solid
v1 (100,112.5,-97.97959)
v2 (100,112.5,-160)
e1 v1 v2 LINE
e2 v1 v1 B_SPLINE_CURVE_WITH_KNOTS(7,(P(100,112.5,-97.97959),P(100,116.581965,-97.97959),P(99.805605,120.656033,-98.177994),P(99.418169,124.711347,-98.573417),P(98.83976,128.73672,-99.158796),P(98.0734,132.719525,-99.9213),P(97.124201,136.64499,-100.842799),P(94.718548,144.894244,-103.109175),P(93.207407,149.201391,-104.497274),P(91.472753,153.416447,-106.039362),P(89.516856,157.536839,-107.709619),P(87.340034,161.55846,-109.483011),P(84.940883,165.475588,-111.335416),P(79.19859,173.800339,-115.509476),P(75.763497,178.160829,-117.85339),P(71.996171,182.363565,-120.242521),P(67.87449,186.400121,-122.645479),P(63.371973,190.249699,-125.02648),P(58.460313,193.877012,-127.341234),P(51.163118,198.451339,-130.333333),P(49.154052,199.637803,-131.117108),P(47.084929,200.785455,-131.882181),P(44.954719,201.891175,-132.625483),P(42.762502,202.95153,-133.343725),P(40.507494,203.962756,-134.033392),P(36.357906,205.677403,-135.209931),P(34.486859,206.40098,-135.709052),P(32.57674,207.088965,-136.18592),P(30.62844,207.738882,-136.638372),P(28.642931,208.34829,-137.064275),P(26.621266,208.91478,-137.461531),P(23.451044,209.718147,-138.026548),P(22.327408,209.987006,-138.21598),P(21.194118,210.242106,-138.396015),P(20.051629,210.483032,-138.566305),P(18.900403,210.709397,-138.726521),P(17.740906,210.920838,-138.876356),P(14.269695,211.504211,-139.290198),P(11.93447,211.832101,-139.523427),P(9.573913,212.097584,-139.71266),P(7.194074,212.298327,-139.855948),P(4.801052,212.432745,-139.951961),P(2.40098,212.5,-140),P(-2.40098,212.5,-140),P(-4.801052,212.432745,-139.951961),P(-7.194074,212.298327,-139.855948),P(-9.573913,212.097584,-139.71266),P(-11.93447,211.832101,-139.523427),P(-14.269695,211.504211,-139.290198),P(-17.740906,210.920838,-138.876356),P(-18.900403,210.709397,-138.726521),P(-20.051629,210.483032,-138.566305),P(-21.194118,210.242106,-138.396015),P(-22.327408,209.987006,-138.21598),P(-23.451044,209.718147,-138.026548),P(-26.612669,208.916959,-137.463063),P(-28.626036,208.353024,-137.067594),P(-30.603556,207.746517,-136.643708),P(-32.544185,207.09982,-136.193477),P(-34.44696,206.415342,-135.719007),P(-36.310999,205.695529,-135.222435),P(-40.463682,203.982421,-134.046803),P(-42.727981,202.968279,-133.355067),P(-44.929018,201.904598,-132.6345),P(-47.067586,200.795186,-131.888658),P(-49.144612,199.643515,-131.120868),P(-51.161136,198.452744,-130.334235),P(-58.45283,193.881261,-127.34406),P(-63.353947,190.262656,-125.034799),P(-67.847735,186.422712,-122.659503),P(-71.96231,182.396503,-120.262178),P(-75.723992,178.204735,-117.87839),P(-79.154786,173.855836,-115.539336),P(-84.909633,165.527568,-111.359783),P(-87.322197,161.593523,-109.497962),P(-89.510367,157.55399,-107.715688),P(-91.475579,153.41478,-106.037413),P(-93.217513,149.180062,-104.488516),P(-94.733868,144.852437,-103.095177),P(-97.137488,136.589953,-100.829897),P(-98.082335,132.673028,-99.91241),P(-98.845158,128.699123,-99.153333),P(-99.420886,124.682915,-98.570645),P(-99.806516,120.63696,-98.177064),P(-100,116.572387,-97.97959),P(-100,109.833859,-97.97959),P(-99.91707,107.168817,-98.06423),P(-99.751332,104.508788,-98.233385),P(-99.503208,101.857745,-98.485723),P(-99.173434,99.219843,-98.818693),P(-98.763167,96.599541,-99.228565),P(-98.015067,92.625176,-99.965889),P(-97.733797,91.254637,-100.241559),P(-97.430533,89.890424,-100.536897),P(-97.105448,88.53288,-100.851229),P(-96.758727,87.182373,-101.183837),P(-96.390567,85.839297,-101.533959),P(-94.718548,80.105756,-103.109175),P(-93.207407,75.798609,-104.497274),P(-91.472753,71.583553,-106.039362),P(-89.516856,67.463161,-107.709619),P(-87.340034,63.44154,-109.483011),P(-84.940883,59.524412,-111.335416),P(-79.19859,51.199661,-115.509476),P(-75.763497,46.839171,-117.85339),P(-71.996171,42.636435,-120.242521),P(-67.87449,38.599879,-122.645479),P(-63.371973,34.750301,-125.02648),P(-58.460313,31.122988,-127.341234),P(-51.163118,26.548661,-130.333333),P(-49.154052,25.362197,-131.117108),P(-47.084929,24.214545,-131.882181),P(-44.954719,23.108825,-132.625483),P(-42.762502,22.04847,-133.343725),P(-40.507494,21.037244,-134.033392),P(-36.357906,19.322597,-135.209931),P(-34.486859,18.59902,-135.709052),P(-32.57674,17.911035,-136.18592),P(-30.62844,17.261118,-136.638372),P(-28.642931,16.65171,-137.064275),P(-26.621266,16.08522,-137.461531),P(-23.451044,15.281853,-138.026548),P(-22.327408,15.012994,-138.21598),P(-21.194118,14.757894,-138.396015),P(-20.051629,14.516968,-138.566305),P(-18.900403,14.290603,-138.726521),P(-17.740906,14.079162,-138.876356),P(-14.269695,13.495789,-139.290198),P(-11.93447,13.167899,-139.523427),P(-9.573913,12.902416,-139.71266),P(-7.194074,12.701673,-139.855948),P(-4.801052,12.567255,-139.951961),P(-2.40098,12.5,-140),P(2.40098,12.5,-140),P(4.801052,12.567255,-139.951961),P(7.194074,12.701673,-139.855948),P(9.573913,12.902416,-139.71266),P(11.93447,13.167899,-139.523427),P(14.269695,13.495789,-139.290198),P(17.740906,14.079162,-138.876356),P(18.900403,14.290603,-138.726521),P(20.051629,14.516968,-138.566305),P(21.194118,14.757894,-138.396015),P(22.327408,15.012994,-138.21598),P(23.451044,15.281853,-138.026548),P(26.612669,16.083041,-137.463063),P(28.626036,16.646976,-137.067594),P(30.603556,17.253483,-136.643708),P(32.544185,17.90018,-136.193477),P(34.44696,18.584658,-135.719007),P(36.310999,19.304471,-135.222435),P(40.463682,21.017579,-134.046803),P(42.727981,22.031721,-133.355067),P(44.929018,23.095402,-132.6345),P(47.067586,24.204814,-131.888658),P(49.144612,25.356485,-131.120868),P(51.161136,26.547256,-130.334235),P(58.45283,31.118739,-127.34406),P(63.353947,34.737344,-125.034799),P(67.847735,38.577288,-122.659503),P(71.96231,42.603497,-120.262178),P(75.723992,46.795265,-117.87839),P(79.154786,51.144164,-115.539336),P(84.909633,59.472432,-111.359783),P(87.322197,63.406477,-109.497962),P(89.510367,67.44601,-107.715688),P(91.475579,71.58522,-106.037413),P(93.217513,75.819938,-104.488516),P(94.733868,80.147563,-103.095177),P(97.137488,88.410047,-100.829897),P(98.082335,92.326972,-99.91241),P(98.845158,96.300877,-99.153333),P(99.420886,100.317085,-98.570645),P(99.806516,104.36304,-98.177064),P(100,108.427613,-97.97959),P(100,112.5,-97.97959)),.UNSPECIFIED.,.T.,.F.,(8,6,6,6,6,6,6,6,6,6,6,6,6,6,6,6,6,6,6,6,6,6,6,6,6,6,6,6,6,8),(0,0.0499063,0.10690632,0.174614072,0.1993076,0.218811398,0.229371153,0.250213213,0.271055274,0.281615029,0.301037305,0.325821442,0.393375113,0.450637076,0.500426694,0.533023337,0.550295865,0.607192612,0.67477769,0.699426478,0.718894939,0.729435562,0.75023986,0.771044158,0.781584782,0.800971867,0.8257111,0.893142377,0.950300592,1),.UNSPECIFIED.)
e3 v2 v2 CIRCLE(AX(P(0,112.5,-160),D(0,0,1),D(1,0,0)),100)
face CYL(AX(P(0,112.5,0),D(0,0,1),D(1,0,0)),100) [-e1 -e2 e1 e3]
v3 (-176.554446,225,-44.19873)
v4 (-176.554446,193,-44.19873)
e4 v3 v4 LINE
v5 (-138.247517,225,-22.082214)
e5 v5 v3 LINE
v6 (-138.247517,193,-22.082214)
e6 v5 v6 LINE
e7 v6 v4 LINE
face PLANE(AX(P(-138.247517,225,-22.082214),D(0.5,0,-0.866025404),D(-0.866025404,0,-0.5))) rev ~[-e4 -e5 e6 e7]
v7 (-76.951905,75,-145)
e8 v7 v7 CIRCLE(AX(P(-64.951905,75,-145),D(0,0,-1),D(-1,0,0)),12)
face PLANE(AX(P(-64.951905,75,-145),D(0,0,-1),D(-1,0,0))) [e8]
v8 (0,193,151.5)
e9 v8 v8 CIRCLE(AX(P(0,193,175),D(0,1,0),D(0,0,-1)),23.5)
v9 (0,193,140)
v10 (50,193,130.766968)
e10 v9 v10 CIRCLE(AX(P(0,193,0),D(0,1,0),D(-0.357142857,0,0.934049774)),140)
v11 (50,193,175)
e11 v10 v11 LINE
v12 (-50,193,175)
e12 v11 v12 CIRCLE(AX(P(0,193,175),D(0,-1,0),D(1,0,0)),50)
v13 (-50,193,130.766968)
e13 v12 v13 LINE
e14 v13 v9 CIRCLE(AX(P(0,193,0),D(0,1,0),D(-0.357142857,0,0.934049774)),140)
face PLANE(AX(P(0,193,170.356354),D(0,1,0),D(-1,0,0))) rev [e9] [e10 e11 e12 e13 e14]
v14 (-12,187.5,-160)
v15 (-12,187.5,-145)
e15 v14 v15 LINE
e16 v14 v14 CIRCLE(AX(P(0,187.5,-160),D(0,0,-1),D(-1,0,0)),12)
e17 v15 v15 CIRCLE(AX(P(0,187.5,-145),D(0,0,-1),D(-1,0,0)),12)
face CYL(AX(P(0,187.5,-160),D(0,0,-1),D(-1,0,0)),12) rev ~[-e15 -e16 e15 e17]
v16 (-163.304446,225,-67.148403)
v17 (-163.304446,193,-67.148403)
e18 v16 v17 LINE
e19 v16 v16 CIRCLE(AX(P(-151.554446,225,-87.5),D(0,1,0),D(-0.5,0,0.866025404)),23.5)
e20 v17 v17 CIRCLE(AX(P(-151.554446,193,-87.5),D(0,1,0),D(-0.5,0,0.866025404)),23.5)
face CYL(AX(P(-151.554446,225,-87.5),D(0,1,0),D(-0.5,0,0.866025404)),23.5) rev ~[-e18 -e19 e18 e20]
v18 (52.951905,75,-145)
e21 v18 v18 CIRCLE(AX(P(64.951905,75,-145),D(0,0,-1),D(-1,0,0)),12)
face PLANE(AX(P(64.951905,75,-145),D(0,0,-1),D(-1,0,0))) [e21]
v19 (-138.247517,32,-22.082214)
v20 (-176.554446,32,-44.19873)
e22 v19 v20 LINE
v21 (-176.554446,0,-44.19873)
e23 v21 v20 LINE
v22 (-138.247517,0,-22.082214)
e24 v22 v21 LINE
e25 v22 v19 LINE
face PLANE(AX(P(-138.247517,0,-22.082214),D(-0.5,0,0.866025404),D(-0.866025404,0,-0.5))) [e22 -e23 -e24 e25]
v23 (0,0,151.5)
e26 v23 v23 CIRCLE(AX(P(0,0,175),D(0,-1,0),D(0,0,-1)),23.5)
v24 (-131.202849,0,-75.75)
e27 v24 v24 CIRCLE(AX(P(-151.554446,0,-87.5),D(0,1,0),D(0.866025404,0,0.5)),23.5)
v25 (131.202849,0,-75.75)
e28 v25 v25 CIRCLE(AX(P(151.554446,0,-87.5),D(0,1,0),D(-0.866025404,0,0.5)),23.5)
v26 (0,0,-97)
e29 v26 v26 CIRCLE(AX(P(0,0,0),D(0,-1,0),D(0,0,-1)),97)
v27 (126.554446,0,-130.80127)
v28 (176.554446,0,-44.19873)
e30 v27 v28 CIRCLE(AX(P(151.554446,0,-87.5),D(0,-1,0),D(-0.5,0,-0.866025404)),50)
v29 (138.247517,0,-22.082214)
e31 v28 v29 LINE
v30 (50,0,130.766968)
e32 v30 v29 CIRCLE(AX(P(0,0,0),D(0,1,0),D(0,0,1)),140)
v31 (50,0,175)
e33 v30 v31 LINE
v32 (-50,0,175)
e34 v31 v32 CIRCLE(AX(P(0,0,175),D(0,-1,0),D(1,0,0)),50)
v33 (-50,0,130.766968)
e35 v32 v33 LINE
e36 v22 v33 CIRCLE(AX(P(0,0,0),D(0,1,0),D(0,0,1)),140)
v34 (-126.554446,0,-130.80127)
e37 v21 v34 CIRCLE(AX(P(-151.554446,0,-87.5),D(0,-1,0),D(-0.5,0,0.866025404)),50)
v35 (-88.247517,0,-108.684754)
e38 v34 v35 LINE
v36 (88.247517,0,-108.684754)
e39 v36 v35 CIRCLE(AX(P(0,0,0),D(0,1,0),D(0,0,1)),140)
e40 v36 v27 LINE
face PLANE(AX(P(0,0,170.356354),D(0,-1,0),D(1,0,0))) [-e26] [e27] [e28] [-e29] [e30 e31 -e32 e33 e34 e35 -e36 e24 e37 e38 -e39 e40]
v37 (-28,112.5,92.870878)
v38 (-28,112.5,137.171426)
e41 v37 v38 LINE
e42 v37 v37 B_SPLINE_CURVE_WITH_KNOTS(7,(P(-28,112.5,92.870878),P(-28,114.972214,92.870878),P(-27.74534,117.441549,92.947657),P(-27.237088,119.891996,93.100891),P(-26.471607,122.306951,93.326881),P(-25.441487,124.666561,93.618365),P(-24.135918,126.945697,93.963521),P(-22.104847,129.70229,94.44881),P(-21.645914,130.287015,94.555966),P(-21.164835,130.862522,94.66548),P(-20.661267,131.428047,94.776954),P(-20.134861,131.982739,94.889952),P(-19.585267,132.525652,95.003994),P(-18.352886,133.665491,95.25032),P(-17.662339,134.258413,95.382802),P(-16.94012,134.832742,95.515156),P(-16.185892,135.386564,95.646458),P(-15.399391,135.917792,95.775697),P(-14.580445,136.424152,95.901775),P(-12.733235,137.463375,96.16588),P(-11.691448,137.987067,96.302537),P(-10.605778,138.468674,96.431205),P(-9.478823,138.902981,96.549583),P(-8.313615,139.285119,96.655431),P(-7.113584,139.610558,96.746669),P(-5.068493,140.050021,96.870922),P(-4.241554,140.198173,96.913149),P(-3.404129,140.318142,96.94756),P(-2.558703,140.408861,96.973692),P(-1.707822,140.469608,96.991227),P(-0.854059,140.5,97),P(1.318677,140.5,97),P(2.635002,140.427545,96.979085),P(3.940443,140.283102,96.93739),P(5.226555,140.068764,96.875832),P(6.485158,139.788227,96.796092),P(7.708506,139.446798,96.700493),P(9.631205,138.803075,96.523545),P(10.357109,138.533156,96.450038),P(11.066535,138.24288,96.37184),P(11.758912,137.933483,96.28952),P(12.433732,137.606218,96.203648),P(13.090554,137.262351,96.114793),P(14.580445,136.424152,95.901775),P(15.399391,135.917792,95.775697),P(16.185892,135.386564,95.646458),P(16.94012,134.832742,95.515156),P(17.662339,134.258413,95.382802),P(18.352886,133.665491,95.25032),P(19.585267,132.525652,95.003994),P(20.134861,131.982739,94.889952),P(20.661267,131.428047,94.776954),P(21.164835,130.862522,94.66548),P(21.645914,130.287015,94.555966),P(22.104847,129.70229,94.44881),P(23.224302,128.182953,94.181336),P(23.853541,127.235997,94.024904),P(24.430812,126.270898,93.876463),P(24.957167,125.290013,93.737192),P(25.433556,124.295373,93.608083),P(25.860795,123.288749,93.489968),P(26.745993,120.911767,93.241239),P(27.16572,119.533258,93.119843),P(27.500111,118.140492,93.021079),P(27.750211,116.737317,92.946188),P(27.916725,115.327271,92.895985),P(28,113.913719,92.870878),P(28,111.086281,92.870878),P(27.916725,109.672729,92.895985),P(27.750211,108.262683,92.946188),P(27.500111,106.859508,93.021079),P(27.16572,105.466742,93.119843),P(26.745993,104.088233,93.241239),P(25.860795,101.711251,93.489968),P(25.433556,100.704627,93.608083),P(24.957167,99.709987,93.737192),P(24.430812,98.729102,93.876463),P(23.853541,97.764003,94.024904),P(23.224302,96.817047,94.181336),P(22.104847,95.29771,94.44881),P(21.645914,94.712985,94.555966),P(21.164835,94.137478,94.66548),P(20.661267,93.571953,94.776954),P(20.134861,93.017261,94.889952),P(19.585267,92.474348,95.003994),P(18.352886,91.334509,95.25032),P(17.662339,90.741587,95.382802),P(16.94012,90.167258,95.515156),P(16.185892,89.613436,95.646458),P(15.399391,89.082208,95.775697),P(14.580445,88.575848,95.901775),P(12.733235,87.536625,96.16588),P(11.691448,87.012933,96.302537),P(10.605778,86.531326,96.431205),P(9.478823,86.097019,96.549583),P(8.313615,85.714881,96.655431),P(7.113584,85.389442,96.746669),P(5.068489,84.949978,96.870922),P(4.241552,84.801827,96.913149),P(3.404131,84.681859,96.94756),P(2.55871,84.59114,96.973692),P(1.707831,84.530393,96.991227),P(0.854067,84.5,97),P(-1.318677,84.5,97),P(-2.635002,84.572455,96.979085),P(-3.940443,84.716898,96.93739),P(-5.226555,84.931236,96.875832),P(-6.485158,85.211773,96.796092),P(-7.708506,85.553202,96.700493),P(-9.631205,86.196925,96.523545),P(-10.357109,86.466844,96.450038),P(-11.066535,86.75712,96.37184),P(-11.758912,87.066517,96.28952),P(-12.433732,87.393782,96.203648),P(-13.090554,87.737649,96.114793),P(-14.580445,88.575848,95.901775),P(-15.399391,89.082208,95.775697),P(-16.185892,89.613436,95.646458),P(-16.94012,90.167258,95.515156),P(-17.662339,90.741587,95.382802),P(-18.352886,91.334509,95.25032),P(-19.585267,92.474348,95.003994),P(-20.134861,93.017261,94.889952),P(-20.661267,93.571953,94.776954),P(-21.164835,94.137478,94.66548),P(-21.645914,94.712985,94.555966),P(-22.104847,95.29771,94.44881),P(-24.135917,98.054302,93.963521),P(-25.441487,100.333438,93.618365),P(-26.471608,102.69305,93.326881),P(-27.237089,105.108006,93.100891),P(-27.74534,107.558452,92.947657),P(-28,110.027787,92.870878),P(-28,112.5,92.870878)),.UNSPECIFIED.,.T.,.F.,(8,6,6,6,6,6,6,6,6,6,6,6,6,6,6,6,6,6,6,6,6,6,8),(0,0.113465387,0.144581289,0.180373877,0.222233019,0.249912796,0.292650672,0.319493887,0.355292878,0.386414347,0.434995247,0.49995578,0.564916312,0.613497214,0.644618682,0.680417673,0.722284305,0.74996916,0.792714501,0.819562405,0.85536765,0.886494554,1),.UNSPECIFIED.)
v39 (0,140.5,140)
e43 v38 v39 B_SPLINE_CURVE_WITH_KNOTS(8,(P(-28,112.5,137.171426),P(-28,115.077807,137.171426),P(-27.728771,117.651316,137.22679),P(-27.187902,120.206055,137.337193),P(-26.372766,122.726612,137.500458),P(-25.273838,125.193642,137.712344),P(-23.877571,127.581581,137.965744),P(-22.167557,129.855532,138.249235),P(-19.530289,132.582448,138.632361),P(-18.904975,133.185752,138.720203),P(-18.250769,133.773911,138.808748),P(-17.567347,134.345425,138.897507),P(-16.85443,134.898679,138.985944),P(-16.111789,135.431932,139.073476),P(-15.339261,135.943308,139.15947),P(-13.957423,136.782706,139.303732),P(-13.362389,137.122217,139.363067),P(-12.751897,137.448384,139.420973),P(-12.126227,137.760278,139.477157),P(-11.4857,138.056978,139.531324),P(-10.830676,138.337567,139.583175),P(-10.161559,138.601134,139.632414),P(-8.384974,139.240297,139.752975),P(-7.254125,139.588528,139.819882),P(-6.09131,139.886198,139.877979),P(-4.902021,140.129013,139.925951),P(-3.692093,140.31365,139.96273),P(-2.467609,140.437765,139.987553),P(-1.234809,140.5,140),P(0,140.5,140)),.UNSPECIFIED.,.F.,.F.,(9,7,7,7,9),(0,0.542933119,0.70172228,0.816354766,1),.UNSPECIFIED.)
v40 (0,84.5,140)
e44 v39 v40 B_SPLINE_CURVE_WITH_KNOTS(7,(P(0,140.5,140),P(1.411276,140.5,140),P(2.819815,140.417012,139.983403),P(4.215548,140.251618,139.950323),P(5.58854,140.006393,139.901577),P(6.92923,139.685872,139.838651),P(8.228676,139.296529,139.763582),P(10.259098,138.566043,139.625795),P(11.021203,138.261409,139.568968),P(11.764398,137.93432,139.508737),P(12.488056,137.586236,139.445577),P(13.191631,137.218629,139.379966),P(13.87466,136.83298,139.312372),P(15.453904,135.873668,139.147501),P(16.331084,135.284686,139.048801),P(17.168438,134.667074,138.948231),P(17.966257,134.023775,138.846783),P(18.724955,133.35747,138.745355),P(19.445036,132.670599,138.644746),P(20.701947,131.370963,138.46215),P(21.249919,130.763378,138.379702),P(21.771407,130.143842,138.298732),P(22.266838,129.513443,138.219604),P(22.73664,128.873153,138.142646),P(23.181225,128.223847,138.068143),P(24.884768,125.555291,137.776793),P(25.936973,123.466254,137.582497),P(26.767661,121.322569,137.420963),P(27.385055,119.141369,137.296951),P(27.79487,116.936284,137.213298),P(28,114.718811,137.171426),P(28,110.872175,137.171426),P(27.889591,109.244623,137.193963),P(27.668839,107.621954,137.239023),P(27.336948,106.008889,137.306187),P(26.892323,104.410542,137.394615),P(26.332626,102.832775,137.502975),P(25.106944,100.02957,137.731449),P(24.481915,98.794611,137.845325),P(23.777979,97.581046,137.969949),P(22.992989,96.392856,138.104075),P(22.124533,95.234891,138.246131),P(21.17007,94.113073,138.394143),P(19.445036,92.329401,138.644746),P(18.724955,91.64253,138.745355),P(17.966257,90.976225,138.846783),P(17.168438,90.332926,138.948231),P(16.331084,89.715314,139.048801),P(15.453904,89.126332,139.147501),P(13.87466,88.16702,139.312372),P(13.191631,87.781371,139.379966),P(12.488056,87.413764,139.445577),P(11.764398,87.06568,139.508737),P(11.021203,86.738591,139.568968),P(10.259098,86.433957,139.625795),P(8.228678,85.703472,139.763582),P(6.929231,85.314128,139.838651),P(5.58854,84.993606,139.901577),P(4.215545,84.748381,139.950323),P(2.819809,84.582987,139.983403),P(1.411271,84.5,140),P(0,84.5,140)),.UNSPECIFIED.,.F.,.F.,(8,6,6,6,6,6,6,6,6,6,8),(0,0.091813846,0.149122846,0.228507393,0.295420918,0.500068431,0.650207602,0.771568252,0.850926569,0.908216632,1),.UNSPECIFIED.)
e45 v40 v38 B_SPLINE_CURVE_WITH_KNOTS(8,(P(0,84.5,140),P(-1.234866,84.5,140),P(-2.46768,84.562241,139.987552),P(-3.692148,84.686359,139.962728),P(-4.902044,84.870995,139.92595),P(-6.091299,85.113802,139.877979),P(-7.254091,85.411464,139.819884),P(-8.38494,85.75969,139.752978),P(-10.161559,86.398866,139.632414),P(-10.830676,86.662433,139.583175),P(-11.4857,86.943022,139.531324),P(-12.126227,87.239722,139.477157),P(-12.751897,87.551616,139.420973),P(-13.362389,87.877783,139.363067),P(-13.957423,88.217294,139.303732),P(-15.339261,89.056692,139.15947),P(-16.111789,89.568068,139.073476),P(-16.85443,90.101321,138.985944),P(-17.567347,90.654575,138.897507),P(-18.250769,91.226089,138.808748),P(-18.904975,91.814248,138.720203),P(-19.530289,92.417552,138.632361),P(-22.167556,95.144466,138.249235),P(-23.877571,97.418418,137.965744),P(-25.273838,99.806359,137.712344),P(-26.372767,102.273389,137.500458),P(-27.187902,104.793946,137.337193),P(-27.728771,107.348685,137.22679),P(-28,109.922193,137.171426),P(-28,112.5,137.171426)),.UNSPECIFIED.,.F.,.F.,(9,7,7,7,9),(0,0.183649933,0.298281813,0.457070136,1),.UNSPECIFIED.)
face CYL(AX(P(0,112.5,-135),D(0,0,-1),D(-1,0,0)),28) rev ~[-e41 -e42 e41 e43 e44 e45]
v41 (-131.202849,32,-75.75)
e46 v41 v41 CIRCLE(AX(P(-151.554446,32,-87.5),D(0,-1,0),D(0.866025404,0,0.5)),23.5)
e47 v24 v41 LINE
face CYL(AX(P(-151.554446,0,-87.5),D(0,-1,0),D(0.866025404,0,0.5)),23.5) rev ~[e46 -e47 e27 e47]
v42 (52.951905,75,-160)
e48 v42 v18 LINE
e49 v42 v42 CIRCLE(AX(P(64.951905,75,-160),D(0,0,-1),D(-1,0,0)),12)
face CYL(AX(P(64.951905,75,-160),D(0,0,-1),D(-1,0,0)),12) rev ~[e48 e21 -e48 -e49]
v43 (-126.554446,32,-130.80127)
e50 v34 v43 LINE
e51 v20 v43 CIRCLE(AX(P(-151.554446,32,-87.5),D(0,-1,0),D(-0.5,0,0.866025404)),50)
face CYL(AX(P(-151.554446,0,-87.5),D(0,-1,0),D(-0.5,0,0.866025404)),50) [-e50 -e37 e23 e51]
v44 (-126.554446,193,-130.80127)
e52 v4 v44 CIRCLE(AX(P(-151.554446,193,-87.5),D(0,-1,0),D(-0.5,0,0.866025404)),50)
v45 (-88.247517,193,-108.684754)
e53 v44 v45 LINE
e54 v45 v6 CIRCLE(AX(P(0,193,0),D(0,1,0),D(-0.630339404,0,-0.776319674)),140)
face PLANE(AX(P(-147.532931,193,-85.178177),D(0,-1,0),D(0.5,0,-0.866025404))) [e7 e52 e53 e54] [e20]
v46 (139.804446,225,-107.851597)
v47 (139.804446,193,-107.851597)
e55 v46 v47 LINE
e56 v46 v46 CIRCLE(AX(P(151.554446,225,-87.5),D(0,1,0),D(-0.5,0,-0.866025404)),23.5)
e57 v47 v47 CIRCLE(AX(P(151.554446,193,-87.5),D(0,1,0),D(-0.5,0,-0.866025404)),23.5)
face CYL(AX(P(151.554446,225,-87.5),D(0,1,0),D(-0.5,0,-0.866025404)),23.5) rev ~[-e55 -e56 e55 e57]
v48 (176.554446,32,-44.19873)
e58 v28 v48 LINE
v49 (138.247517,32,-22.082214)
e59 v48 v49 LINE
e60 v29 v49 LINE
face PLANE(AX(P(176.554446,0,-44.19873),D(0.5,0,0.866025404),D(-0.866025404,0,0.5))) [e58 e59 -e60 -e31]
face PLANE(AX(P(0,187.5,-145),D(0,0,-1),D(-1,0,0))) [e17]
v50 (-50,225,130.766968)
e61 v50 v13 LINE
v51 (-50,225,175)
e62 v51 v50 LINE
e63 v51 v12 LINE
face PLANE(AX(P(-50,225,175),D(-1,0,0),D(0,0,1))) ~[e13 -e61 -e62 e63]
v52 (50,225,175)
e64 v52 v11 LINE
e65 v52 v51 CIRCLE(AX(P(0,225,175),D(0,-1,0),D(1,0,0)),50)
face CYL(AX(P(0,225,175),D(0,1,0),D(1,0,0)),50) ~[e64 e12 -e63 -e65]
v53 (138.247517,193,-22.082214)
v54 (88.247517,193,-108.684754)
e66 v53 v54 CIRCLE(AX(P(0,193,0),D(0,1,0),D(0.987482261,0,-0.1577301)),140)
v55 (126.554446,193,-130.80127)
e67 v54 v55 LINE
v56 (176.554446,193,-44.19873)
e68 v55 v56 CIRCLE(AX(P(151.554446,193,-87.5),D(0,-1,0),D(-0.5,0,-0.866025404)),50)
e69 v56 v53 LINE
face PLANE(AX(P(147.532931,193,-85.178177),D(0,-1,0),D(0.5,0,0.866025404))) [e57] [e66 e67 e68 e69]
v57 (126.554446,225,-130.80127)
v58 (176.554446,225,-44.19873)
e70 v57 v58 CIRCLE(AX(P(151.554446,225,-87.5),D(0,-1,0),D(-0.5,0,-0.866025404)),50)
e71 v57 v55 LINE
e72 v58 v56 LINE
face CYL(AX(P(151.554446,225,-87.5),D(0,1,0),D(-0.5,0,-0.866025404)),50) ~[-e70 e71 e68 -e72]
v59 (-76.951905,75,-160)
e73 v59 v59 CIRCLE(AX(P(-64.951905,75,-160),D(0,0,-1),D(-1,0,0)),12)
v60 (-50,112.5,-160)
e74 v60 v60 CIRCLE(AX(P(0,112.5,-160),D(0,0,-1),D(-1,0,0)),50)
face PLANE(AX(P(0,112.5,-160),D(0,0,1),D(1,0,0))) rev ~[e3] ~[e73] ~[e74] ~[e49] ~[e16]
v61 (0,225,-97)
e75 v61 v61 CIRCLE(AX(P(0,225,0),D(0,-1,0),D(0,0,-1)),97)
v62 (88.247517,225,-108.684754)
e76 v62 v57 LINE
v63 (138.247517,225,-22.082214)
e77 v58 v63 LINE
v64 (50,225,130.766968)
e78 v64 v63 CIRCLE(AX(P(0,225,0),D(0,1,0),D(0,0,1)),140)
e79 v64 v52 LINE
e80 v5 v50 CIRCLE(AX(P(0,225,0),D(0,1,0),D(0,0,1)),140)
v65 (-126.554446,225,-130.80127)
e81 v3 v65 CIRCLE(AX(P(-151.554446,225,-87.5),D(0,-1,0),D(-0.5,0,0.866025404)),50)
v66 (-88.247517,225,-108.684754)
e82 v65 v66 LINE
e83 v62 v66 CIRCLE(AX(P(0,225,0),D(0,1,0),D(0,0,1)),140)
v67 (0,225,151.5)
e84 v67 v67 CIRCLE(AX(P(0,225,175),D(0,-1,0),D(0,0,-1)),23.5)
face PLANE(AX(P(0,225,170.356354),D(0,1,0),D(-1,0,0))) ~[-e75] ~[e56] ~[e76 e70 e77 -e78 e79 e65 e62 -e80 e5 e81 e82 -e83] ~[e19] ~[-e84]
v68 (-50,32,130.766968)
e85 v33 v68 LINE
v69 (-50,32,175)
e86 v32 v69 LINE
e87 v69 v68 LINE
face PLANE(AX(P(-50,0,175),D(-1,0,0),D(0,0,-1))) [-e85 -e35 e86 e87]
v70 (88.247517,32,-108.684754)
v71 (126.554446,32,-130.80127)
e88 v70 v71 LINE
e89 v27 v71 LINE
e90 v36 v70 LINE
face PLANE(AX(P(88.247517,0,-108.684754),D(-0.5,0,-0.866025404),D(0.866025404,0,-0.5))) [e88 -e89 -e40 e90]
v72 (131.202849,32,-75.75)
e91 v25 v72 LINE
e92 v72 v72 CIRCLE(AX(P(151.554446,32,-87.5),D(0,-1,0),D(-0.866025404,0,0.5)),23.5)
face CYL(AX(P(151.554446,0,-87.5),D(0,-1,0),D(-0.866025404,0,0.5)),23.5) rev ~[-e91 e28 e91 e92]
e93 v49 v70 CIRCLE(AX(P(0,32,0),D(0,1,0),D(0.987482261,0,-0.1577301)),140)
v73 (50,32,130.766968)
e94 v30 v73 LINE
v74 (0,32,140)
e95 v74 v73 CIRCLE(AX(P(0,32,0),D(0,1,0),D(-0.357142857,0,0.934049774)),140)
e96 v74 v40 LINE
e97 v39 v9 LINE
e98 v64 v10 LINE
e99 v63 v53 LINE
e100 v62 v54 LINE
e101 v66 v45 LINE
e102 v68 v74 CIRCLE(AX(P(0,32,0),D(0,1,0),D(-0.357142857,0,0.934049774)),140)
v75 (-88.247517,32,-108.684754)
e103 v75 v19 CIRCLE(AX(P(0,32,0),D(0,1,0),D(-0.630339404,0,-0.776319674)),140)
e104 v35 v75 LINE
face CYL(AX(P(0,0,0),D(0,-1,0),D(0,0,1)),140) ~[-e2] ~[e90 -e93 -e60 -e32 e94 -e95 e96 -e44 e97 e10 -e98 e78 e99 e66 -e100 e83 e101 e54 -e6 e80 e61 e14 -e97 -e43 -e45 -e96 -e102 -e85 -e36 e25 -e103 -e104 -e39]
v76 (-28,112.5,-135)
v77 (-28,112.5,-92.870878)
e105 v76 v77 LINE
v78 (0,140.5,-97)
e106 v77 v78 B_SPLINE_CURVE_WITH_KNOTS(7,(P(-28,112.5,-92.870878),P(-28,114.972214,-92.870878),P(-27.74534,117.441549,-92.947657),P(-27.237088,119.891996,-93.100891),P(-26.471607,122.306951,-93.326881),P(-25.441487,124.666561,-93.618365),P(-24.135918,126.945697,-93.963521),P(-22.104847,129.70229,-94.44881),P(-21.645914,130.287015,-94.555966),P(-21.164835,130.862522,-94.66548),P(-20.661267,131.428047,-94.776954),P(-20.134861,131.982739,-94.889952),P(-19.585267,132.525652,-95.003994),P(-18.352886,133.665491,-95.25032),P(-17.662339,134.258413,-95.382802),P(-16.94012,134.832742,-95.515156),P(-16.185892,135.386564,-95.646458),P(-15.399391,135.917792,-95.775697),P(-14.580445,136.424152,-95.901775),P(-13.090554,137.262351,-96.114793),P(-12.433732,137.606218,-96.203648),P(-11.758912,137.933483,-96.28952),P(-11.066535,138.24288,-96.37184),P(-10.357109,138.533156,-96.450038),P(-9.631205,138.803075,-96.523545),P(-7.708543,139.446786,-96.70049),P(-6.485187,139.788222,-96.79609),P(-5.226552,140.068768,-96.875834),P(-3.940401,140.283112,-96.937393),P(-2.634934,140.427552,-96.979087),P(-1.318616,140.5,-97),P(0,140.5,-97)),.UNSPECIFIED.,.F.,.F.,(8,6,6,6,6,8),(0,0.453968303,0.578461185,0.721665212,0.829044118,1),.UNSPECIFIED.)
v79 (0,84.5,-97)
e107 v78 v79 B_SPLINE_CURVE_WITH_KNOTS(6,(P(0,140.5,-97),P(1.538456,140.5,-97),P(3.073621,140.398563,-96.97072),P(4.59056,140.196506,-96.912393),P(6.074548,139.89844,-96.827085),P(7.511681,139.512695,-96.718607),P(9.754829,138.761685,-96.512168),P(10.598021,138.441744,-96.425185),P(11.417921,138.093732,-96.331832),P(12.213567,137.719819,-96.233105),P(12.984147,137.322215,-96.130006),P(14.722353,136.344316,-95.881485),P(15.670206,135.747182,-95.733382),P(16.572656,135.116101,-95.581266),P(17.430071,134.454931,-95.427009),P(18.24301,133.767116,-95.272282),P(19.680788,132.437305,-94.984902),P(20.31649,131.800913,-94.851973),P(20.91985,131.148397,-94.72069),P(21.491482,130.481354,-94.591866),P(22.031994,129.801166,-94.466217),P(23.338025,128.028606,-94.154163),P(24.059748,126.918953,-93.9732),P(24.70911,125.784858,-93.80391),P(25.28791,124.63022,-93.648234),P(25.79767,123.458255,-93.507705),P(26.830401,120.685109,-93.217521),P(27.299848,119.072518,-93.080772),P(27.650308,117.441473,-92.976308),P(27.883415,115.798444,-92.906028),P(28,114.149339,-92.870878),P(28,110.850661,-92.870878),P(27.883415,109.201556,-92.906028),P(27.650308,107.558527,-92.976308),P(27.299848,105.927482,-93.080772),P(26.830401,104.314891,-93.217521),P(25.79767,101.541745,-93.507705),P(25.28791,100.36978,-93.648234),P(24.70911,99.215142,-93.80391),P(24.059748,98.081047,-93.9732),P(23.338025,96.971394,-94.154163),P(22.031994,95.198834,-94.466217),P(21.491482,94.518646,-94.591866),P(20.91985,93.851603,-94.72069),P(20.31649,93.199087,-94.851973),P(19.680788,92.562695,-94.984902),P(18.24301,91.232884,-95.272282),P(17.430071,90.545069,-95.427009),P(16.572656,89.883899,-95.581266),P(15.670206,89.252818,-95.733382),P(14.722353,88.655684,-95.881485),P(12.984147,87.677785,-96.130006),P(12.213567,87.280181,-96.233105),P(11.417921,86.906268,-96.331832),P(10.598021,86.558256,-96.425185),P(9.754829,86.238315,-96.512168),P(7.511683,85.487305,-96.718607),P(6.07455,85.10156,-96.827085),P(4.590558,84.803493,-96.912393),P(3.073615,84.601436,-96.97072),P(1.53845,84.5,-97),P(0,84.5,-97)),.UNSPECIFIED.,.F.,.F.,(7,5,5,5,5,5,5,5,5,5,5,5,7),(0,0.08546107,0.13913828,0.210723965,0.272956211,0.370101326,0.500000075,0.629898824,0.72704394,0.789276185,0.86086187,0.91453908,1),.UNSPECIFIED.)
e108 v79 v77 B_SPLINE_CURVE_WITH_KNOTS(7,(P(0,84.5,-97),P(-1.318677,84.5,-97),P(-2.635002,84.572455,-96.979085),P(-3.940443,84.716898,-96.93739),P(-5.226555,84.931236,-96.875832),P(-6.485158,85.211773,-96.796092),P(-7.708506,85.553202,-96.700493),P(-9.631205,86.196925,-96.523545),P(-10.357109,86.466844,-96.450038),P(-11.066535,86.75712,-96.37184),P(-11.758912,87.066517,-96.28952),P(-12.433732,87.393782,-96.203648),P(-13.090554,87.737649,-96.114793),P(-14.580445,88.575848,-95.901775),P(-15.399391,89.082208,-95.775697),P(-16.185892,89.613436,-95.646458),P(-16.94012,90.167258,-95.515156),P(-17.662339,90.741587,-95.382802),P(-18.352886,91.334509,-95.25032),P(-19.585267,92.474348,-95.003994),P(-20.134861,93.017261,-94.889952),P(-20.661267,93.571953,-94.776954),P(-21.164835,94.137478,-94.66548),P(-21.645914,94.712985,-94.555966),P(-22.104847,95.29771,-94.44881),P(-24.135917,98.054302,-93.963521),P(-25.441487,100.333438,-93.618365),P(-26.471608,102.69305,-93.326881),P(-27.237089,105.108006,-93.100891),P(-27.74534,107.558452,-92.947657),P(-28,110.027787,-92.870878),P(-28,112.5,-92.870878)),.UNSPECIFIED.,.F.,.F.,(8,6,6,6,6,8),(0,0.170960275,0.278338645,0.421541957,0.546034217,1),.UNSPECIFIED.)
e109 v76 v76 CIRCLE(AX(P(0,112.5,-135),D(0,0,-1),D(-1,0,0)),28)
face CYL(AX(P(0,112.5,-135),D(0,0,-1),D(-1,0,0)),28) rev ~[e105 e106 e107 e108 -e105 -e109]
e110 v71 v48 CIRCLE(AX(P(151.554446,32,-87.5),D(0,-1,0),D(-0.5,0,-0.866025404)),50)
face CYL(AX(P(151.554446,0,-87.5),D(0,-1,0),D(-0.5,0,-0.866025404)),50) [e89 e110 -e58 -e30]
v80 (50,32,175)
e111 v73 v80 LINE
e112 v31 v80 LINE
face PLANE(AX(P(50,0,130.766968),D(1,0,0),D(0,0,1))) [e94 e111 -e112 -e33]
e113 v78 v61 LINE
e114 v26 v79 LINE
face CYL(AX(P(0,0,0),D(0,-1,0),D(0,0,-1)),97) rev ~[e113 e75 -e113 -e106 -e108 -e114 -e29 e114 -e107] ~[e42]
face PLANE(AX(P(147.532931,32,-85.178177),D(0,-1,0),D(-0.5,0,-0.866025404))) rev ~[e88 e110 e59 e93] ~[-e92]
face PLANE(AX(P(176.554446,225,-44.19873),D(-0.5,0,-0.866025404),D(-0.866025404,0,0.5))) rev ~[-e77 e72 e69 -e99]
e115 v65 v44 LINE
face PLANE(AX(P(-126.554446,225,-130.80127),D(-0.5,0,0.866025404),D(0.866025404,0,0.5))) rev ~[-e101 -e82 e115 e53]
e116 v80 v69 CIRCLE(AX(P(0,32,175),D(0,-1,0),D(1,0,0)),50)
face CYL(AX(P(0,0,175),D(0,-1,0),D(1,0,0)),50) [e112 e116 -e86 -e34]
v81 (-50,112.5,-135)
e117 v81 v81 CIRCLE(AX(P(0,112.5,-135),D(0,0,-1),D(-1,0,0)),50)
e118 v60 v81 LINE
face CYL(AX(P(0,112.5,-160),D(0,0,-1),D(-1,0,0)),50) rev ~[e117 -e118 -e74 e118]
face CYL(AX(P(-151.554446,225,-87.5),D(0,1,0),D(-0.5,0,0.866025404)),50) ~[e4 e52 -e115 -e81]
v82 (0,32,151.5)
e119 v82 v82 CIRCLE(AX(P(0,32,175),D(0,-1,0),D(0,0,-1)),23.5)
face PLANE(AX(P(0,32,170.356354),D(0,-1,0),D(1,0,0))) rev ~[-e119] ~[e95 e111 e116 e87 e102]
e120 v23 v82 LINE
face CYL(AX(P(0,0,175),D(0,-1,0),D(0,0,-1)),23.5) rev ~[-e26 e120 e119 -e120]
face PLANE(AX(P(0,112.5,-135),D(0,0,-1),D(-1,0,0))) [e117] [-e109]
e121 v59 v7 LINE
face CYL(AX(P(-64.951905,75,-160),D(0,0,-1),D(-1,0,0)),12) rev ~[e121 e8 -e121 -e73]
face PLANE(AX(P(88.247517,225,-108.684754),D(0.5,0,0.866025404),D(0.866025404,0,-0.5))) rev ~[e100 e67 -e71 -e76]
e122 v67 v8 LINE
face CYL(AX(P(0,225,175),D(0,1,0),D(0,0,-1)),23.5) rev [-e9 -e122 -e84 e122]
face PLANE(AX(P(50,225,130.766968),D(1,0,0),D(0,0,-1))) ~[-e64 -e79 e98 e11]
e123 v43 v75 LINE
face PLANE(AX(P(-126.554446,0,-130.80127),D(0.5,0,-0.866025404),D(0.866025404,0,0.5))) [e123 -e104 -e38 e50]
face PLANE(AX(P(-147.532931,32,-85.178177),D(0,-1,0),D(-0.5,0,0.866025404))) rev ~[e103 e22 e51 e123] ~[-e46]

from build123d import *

# Parameters (mm, degrees)
SKETCH3_R               = 140
BOSS_EXTRUDE1_DEPTH     = 225
SKETCH4_R               = 97
CUT_EXTRUDE1_DEPTH      = 300.708191413
BOSS_EXTRUDE3_DEPTH     = 32
SKETCH11_R              = 23.5
CUT_EXTRUDE3_DEPTH      = 348.634865915
CIRPATTERN15_COUNT      = 3
MIRROR6_COPY_1_DEPTH    = 32
MIRROR6_COPY_2_DEPTH    = 32
MIRROR6_COPY_3_SKETCH_R = 23.5
MIRROR6_COPY_3_DEPTH    = 348.634865915
MIRROR6_COPY_4_SKETCH_R = 23.5
MIRROR6_COPY_4_DEPTH    = 348.634865915
SKETCH16_R              = 100
BOSS_EXTRUDE4_DEPTH     = 160
SKETCH17_R              = 50
CUT_EXTRUDE4_DEPTH      = 25
SKETCH18_R              = 28
CUT_EXTRUDE5_DEPTH      = 470.945948606
SKETCH19_R              = 12
CUT_EXTRUDE6_DEPTH      = 15
SKETCH20_R              = 97
CUT_EXTRUDE7_DEPTH      = 377.661910221


with BuildPart() as part:
    # Sketch3 → Boss-Extrude1 (new body)
    with BuildSketch(Plane(origin=(0, 0, 0), x_dir=(1, 0, 0), z_dir=(0, 1, 0))):
        with Locations(Location((0, 0, 0), (0, 0, 270))):
            Circle(SKETCH3_R)
    extrude(amount=BOSS_EXTRUDE1_DEPTH)

    # Sketch4 → Cut-Extrude1 (cut, through all)
    with BuildSketch(Plane.XZ):
        with Locations(Location((0, 0, 0), (0, 0, 270))):
            Circle(SKETCH4_R)
    extrude(amount=-CUT_EXTRUDE1_DEPTH, mode=Mode.SUBTRACT)

    # Sketch10 → Boss-Extrude3 (add)
    with BuildSketch(Plane.XZ):
        with BuildLine():
            Line((-50, 175), (-50, 130.766968306))
            ThreePointArc((-50, 130.766968306), (0, 140), (50, 130.766968306))
            Line((50, 130.766968306), (50, 175))
            ThreePointArc((50, 175), (0, 225), (-50, 175))
        make_face()
    boss_extrude3 = extrude(amount=-BOSS_EXTRUDE3_DEPTH)

    # Sketch11 → Cut-Extrude3 (cut, through all)
    with BuildSketch(Plane.XZ):
        with Locations(Location((0, 175, 0), (0, 0, 270))):
            Circle(SKETCH11_R)
    cut_extrude3 = extrude(amount=-CUT_EXTRUDE3_DEPTH, mode=Mode.SUBTRACT)

    # CirPattern15: Boss-Extrude3, Cut-Extrude3 ×3 about axis
    cirpattern15_axis = Axis((0, 0, 0), (0, 1, 0))
    add([boss_extrude3.rotate(cirpattern15_axis, i * 360 / CIRPATTERN15_COUNT) for i in range(1, CIRPATTERN15_COUNT)])
    add([cut_extrude3.rotate(cirpattern15_axis, i * 360 / CIRPATTERN15_COUNT) for i in range(1, CIRPATTERN15_COUNT)], mode=Mode.SUBTRACT)

    # Mirror6: Boss-Extrude3, Cut-Extrude3 across plane
    add(boss_extrude3.mirror(Plane.ZX.offset(112.5)))
    add(cut_extrude3.mirror(Plane.ZX.offset(112.5)), mode=Mode.SUBTRACT)

    # Mirror6 copy 1 sketch → Mirror6 copy 1 (add)
    with BuildSketch(Plane(origin=(0, 225, 0), x_dir=(-0.4999999999999998, 0, -0.8660254037844387), z_dir=(0, 1, 0))):
        with BuildLine():
            Line((-50, -175), (-50, -130.766968306))
            ThreePointArc((-50, -130.766968306), (0, -140), (50, -130.766968306))
            Line((50, -130.766968306), (50, -175))
            ThreePointArc((50, -175), (0, -225), (-50, -175))
        make_face()
    extrude(amount=-MIRROR6_COPY_1_DEPTH)

    # Mirror6 copy 2 sketch → Mirror6 copy 2 (add)
    with BuildSketch(Plane(origin=(0, 225, 0), x_dir=(-0.5000000000000004, 0, 0.8660254037844384), z_dir=(0, 1, 0))):
        with BuildLine():
            Line((-50, -175), (-50, -130.766968306))
            ThreePointArc((-50, -130.766968306), (0, -140), (50, -130.766968306))
            Line((50, -130.766968306), (50, -175))
            ThreePointArc((50, -175), (0, -225), (-50, -175))
        make_face()
    extrude(amount=-MIRROR6_COPY_2_DEPTH)

    # Mirror6 copy 3 sketch → Mirror6 copy 3 (cut, through all)
    with BuildSketch(Plane(origin=(0, 225, 0), x_dir=(-0.4999999999999998, 0, -0.8660254037844387), z_dir=(0, 1, 0))):
        with Locations((0, -175)):
            Circle(MIRROR6_COPY_3_SKETCH_R)
    extrude(amount=-MIRROR6_COPY_3_DEPTH, mode=Mode.SUBTRACT)

    # Mirror6 copy 4 sketch → Mirror6 copy 4 (cut, through all)
    with BuildSketch(Plane(origin=(0, 225, 0), x_dir=(-0.5000000000000004, 0, 0.8660254037844384), z_dir=(0, 1, 0))):
        with Locations((0, -175)):
            Circle(MIRROR6_COPY_4_SKETCH_R)
    extrude(amount=-MIRROR6_COPY_4_DEPTH, mode=Mode.SUBTRACT)

    # Sketch16 → Boss-Extrude4 (add)
    with BuildSketch(Plane.XY):
        with Locations((0, 112.5)):
            Circle(SKETCH16_R)
    extrude(amount=-BOSS_EXTRUDE4_DEPTH)

    # Sketch17 → Cut-Extrude4 (cut)
    with BuildSketch(Plane(origin=(0, 0, -160), x_dir=(-1, 0, 0), z_dir=(0, 0, -1))):
        with Locations((0, 112.5)):
            Circle(SKETCH17_R)
    extrude(amount=-CUT_EXTRUDE4_DEPTH, mode=Mode.SUBTRACT)

    # Sketch18 → Cut-Extrude5 (cut, through all)
    with BuildSketch(Plane(origin=(0, 0, -135), x_dir=(-1, 0, 0), z_dir=(0, 0, -1))):
        with Locations((0, 112.5)):
            Circle(SKETCH18_R)
    extrude(amount=-CUT_EXTRUDE5_DEPTH, mode=Mode.SUBTRACT)

    # Sketch19 → Cut-Extrude6 (cut)
    with BuildSketch(Plane(origin=(0, 0, -160), x_dir=(-1, 0, 0), z_dir=(0, 0, -1))):
        with Locations((0, 187.5)):
            Circle(SKETCH19_R)
        with Locations((64.951905284, 75)):
            Circle(SKETCH19_R)
        with Locations((-64.951905284, 75)):
            Circle(SKETCH19_R)
    extrude(amount=-CUT_EXTRUDE6_DEPTH, mode=Mode.SUBTRACT)

    # Sketch20 → Cut-Extrude7 (cut, through all)
    with BuildSketch(Plane.XZ):
        with Locations(Location((0, 0, 0), (0, 0, 270))):
            Circle(SKETCH20_R)
    extrude(amount=-CUT_EXTRUDE7_DEPTH, mode=Mode.SUBTRACT)


solid = part.part
